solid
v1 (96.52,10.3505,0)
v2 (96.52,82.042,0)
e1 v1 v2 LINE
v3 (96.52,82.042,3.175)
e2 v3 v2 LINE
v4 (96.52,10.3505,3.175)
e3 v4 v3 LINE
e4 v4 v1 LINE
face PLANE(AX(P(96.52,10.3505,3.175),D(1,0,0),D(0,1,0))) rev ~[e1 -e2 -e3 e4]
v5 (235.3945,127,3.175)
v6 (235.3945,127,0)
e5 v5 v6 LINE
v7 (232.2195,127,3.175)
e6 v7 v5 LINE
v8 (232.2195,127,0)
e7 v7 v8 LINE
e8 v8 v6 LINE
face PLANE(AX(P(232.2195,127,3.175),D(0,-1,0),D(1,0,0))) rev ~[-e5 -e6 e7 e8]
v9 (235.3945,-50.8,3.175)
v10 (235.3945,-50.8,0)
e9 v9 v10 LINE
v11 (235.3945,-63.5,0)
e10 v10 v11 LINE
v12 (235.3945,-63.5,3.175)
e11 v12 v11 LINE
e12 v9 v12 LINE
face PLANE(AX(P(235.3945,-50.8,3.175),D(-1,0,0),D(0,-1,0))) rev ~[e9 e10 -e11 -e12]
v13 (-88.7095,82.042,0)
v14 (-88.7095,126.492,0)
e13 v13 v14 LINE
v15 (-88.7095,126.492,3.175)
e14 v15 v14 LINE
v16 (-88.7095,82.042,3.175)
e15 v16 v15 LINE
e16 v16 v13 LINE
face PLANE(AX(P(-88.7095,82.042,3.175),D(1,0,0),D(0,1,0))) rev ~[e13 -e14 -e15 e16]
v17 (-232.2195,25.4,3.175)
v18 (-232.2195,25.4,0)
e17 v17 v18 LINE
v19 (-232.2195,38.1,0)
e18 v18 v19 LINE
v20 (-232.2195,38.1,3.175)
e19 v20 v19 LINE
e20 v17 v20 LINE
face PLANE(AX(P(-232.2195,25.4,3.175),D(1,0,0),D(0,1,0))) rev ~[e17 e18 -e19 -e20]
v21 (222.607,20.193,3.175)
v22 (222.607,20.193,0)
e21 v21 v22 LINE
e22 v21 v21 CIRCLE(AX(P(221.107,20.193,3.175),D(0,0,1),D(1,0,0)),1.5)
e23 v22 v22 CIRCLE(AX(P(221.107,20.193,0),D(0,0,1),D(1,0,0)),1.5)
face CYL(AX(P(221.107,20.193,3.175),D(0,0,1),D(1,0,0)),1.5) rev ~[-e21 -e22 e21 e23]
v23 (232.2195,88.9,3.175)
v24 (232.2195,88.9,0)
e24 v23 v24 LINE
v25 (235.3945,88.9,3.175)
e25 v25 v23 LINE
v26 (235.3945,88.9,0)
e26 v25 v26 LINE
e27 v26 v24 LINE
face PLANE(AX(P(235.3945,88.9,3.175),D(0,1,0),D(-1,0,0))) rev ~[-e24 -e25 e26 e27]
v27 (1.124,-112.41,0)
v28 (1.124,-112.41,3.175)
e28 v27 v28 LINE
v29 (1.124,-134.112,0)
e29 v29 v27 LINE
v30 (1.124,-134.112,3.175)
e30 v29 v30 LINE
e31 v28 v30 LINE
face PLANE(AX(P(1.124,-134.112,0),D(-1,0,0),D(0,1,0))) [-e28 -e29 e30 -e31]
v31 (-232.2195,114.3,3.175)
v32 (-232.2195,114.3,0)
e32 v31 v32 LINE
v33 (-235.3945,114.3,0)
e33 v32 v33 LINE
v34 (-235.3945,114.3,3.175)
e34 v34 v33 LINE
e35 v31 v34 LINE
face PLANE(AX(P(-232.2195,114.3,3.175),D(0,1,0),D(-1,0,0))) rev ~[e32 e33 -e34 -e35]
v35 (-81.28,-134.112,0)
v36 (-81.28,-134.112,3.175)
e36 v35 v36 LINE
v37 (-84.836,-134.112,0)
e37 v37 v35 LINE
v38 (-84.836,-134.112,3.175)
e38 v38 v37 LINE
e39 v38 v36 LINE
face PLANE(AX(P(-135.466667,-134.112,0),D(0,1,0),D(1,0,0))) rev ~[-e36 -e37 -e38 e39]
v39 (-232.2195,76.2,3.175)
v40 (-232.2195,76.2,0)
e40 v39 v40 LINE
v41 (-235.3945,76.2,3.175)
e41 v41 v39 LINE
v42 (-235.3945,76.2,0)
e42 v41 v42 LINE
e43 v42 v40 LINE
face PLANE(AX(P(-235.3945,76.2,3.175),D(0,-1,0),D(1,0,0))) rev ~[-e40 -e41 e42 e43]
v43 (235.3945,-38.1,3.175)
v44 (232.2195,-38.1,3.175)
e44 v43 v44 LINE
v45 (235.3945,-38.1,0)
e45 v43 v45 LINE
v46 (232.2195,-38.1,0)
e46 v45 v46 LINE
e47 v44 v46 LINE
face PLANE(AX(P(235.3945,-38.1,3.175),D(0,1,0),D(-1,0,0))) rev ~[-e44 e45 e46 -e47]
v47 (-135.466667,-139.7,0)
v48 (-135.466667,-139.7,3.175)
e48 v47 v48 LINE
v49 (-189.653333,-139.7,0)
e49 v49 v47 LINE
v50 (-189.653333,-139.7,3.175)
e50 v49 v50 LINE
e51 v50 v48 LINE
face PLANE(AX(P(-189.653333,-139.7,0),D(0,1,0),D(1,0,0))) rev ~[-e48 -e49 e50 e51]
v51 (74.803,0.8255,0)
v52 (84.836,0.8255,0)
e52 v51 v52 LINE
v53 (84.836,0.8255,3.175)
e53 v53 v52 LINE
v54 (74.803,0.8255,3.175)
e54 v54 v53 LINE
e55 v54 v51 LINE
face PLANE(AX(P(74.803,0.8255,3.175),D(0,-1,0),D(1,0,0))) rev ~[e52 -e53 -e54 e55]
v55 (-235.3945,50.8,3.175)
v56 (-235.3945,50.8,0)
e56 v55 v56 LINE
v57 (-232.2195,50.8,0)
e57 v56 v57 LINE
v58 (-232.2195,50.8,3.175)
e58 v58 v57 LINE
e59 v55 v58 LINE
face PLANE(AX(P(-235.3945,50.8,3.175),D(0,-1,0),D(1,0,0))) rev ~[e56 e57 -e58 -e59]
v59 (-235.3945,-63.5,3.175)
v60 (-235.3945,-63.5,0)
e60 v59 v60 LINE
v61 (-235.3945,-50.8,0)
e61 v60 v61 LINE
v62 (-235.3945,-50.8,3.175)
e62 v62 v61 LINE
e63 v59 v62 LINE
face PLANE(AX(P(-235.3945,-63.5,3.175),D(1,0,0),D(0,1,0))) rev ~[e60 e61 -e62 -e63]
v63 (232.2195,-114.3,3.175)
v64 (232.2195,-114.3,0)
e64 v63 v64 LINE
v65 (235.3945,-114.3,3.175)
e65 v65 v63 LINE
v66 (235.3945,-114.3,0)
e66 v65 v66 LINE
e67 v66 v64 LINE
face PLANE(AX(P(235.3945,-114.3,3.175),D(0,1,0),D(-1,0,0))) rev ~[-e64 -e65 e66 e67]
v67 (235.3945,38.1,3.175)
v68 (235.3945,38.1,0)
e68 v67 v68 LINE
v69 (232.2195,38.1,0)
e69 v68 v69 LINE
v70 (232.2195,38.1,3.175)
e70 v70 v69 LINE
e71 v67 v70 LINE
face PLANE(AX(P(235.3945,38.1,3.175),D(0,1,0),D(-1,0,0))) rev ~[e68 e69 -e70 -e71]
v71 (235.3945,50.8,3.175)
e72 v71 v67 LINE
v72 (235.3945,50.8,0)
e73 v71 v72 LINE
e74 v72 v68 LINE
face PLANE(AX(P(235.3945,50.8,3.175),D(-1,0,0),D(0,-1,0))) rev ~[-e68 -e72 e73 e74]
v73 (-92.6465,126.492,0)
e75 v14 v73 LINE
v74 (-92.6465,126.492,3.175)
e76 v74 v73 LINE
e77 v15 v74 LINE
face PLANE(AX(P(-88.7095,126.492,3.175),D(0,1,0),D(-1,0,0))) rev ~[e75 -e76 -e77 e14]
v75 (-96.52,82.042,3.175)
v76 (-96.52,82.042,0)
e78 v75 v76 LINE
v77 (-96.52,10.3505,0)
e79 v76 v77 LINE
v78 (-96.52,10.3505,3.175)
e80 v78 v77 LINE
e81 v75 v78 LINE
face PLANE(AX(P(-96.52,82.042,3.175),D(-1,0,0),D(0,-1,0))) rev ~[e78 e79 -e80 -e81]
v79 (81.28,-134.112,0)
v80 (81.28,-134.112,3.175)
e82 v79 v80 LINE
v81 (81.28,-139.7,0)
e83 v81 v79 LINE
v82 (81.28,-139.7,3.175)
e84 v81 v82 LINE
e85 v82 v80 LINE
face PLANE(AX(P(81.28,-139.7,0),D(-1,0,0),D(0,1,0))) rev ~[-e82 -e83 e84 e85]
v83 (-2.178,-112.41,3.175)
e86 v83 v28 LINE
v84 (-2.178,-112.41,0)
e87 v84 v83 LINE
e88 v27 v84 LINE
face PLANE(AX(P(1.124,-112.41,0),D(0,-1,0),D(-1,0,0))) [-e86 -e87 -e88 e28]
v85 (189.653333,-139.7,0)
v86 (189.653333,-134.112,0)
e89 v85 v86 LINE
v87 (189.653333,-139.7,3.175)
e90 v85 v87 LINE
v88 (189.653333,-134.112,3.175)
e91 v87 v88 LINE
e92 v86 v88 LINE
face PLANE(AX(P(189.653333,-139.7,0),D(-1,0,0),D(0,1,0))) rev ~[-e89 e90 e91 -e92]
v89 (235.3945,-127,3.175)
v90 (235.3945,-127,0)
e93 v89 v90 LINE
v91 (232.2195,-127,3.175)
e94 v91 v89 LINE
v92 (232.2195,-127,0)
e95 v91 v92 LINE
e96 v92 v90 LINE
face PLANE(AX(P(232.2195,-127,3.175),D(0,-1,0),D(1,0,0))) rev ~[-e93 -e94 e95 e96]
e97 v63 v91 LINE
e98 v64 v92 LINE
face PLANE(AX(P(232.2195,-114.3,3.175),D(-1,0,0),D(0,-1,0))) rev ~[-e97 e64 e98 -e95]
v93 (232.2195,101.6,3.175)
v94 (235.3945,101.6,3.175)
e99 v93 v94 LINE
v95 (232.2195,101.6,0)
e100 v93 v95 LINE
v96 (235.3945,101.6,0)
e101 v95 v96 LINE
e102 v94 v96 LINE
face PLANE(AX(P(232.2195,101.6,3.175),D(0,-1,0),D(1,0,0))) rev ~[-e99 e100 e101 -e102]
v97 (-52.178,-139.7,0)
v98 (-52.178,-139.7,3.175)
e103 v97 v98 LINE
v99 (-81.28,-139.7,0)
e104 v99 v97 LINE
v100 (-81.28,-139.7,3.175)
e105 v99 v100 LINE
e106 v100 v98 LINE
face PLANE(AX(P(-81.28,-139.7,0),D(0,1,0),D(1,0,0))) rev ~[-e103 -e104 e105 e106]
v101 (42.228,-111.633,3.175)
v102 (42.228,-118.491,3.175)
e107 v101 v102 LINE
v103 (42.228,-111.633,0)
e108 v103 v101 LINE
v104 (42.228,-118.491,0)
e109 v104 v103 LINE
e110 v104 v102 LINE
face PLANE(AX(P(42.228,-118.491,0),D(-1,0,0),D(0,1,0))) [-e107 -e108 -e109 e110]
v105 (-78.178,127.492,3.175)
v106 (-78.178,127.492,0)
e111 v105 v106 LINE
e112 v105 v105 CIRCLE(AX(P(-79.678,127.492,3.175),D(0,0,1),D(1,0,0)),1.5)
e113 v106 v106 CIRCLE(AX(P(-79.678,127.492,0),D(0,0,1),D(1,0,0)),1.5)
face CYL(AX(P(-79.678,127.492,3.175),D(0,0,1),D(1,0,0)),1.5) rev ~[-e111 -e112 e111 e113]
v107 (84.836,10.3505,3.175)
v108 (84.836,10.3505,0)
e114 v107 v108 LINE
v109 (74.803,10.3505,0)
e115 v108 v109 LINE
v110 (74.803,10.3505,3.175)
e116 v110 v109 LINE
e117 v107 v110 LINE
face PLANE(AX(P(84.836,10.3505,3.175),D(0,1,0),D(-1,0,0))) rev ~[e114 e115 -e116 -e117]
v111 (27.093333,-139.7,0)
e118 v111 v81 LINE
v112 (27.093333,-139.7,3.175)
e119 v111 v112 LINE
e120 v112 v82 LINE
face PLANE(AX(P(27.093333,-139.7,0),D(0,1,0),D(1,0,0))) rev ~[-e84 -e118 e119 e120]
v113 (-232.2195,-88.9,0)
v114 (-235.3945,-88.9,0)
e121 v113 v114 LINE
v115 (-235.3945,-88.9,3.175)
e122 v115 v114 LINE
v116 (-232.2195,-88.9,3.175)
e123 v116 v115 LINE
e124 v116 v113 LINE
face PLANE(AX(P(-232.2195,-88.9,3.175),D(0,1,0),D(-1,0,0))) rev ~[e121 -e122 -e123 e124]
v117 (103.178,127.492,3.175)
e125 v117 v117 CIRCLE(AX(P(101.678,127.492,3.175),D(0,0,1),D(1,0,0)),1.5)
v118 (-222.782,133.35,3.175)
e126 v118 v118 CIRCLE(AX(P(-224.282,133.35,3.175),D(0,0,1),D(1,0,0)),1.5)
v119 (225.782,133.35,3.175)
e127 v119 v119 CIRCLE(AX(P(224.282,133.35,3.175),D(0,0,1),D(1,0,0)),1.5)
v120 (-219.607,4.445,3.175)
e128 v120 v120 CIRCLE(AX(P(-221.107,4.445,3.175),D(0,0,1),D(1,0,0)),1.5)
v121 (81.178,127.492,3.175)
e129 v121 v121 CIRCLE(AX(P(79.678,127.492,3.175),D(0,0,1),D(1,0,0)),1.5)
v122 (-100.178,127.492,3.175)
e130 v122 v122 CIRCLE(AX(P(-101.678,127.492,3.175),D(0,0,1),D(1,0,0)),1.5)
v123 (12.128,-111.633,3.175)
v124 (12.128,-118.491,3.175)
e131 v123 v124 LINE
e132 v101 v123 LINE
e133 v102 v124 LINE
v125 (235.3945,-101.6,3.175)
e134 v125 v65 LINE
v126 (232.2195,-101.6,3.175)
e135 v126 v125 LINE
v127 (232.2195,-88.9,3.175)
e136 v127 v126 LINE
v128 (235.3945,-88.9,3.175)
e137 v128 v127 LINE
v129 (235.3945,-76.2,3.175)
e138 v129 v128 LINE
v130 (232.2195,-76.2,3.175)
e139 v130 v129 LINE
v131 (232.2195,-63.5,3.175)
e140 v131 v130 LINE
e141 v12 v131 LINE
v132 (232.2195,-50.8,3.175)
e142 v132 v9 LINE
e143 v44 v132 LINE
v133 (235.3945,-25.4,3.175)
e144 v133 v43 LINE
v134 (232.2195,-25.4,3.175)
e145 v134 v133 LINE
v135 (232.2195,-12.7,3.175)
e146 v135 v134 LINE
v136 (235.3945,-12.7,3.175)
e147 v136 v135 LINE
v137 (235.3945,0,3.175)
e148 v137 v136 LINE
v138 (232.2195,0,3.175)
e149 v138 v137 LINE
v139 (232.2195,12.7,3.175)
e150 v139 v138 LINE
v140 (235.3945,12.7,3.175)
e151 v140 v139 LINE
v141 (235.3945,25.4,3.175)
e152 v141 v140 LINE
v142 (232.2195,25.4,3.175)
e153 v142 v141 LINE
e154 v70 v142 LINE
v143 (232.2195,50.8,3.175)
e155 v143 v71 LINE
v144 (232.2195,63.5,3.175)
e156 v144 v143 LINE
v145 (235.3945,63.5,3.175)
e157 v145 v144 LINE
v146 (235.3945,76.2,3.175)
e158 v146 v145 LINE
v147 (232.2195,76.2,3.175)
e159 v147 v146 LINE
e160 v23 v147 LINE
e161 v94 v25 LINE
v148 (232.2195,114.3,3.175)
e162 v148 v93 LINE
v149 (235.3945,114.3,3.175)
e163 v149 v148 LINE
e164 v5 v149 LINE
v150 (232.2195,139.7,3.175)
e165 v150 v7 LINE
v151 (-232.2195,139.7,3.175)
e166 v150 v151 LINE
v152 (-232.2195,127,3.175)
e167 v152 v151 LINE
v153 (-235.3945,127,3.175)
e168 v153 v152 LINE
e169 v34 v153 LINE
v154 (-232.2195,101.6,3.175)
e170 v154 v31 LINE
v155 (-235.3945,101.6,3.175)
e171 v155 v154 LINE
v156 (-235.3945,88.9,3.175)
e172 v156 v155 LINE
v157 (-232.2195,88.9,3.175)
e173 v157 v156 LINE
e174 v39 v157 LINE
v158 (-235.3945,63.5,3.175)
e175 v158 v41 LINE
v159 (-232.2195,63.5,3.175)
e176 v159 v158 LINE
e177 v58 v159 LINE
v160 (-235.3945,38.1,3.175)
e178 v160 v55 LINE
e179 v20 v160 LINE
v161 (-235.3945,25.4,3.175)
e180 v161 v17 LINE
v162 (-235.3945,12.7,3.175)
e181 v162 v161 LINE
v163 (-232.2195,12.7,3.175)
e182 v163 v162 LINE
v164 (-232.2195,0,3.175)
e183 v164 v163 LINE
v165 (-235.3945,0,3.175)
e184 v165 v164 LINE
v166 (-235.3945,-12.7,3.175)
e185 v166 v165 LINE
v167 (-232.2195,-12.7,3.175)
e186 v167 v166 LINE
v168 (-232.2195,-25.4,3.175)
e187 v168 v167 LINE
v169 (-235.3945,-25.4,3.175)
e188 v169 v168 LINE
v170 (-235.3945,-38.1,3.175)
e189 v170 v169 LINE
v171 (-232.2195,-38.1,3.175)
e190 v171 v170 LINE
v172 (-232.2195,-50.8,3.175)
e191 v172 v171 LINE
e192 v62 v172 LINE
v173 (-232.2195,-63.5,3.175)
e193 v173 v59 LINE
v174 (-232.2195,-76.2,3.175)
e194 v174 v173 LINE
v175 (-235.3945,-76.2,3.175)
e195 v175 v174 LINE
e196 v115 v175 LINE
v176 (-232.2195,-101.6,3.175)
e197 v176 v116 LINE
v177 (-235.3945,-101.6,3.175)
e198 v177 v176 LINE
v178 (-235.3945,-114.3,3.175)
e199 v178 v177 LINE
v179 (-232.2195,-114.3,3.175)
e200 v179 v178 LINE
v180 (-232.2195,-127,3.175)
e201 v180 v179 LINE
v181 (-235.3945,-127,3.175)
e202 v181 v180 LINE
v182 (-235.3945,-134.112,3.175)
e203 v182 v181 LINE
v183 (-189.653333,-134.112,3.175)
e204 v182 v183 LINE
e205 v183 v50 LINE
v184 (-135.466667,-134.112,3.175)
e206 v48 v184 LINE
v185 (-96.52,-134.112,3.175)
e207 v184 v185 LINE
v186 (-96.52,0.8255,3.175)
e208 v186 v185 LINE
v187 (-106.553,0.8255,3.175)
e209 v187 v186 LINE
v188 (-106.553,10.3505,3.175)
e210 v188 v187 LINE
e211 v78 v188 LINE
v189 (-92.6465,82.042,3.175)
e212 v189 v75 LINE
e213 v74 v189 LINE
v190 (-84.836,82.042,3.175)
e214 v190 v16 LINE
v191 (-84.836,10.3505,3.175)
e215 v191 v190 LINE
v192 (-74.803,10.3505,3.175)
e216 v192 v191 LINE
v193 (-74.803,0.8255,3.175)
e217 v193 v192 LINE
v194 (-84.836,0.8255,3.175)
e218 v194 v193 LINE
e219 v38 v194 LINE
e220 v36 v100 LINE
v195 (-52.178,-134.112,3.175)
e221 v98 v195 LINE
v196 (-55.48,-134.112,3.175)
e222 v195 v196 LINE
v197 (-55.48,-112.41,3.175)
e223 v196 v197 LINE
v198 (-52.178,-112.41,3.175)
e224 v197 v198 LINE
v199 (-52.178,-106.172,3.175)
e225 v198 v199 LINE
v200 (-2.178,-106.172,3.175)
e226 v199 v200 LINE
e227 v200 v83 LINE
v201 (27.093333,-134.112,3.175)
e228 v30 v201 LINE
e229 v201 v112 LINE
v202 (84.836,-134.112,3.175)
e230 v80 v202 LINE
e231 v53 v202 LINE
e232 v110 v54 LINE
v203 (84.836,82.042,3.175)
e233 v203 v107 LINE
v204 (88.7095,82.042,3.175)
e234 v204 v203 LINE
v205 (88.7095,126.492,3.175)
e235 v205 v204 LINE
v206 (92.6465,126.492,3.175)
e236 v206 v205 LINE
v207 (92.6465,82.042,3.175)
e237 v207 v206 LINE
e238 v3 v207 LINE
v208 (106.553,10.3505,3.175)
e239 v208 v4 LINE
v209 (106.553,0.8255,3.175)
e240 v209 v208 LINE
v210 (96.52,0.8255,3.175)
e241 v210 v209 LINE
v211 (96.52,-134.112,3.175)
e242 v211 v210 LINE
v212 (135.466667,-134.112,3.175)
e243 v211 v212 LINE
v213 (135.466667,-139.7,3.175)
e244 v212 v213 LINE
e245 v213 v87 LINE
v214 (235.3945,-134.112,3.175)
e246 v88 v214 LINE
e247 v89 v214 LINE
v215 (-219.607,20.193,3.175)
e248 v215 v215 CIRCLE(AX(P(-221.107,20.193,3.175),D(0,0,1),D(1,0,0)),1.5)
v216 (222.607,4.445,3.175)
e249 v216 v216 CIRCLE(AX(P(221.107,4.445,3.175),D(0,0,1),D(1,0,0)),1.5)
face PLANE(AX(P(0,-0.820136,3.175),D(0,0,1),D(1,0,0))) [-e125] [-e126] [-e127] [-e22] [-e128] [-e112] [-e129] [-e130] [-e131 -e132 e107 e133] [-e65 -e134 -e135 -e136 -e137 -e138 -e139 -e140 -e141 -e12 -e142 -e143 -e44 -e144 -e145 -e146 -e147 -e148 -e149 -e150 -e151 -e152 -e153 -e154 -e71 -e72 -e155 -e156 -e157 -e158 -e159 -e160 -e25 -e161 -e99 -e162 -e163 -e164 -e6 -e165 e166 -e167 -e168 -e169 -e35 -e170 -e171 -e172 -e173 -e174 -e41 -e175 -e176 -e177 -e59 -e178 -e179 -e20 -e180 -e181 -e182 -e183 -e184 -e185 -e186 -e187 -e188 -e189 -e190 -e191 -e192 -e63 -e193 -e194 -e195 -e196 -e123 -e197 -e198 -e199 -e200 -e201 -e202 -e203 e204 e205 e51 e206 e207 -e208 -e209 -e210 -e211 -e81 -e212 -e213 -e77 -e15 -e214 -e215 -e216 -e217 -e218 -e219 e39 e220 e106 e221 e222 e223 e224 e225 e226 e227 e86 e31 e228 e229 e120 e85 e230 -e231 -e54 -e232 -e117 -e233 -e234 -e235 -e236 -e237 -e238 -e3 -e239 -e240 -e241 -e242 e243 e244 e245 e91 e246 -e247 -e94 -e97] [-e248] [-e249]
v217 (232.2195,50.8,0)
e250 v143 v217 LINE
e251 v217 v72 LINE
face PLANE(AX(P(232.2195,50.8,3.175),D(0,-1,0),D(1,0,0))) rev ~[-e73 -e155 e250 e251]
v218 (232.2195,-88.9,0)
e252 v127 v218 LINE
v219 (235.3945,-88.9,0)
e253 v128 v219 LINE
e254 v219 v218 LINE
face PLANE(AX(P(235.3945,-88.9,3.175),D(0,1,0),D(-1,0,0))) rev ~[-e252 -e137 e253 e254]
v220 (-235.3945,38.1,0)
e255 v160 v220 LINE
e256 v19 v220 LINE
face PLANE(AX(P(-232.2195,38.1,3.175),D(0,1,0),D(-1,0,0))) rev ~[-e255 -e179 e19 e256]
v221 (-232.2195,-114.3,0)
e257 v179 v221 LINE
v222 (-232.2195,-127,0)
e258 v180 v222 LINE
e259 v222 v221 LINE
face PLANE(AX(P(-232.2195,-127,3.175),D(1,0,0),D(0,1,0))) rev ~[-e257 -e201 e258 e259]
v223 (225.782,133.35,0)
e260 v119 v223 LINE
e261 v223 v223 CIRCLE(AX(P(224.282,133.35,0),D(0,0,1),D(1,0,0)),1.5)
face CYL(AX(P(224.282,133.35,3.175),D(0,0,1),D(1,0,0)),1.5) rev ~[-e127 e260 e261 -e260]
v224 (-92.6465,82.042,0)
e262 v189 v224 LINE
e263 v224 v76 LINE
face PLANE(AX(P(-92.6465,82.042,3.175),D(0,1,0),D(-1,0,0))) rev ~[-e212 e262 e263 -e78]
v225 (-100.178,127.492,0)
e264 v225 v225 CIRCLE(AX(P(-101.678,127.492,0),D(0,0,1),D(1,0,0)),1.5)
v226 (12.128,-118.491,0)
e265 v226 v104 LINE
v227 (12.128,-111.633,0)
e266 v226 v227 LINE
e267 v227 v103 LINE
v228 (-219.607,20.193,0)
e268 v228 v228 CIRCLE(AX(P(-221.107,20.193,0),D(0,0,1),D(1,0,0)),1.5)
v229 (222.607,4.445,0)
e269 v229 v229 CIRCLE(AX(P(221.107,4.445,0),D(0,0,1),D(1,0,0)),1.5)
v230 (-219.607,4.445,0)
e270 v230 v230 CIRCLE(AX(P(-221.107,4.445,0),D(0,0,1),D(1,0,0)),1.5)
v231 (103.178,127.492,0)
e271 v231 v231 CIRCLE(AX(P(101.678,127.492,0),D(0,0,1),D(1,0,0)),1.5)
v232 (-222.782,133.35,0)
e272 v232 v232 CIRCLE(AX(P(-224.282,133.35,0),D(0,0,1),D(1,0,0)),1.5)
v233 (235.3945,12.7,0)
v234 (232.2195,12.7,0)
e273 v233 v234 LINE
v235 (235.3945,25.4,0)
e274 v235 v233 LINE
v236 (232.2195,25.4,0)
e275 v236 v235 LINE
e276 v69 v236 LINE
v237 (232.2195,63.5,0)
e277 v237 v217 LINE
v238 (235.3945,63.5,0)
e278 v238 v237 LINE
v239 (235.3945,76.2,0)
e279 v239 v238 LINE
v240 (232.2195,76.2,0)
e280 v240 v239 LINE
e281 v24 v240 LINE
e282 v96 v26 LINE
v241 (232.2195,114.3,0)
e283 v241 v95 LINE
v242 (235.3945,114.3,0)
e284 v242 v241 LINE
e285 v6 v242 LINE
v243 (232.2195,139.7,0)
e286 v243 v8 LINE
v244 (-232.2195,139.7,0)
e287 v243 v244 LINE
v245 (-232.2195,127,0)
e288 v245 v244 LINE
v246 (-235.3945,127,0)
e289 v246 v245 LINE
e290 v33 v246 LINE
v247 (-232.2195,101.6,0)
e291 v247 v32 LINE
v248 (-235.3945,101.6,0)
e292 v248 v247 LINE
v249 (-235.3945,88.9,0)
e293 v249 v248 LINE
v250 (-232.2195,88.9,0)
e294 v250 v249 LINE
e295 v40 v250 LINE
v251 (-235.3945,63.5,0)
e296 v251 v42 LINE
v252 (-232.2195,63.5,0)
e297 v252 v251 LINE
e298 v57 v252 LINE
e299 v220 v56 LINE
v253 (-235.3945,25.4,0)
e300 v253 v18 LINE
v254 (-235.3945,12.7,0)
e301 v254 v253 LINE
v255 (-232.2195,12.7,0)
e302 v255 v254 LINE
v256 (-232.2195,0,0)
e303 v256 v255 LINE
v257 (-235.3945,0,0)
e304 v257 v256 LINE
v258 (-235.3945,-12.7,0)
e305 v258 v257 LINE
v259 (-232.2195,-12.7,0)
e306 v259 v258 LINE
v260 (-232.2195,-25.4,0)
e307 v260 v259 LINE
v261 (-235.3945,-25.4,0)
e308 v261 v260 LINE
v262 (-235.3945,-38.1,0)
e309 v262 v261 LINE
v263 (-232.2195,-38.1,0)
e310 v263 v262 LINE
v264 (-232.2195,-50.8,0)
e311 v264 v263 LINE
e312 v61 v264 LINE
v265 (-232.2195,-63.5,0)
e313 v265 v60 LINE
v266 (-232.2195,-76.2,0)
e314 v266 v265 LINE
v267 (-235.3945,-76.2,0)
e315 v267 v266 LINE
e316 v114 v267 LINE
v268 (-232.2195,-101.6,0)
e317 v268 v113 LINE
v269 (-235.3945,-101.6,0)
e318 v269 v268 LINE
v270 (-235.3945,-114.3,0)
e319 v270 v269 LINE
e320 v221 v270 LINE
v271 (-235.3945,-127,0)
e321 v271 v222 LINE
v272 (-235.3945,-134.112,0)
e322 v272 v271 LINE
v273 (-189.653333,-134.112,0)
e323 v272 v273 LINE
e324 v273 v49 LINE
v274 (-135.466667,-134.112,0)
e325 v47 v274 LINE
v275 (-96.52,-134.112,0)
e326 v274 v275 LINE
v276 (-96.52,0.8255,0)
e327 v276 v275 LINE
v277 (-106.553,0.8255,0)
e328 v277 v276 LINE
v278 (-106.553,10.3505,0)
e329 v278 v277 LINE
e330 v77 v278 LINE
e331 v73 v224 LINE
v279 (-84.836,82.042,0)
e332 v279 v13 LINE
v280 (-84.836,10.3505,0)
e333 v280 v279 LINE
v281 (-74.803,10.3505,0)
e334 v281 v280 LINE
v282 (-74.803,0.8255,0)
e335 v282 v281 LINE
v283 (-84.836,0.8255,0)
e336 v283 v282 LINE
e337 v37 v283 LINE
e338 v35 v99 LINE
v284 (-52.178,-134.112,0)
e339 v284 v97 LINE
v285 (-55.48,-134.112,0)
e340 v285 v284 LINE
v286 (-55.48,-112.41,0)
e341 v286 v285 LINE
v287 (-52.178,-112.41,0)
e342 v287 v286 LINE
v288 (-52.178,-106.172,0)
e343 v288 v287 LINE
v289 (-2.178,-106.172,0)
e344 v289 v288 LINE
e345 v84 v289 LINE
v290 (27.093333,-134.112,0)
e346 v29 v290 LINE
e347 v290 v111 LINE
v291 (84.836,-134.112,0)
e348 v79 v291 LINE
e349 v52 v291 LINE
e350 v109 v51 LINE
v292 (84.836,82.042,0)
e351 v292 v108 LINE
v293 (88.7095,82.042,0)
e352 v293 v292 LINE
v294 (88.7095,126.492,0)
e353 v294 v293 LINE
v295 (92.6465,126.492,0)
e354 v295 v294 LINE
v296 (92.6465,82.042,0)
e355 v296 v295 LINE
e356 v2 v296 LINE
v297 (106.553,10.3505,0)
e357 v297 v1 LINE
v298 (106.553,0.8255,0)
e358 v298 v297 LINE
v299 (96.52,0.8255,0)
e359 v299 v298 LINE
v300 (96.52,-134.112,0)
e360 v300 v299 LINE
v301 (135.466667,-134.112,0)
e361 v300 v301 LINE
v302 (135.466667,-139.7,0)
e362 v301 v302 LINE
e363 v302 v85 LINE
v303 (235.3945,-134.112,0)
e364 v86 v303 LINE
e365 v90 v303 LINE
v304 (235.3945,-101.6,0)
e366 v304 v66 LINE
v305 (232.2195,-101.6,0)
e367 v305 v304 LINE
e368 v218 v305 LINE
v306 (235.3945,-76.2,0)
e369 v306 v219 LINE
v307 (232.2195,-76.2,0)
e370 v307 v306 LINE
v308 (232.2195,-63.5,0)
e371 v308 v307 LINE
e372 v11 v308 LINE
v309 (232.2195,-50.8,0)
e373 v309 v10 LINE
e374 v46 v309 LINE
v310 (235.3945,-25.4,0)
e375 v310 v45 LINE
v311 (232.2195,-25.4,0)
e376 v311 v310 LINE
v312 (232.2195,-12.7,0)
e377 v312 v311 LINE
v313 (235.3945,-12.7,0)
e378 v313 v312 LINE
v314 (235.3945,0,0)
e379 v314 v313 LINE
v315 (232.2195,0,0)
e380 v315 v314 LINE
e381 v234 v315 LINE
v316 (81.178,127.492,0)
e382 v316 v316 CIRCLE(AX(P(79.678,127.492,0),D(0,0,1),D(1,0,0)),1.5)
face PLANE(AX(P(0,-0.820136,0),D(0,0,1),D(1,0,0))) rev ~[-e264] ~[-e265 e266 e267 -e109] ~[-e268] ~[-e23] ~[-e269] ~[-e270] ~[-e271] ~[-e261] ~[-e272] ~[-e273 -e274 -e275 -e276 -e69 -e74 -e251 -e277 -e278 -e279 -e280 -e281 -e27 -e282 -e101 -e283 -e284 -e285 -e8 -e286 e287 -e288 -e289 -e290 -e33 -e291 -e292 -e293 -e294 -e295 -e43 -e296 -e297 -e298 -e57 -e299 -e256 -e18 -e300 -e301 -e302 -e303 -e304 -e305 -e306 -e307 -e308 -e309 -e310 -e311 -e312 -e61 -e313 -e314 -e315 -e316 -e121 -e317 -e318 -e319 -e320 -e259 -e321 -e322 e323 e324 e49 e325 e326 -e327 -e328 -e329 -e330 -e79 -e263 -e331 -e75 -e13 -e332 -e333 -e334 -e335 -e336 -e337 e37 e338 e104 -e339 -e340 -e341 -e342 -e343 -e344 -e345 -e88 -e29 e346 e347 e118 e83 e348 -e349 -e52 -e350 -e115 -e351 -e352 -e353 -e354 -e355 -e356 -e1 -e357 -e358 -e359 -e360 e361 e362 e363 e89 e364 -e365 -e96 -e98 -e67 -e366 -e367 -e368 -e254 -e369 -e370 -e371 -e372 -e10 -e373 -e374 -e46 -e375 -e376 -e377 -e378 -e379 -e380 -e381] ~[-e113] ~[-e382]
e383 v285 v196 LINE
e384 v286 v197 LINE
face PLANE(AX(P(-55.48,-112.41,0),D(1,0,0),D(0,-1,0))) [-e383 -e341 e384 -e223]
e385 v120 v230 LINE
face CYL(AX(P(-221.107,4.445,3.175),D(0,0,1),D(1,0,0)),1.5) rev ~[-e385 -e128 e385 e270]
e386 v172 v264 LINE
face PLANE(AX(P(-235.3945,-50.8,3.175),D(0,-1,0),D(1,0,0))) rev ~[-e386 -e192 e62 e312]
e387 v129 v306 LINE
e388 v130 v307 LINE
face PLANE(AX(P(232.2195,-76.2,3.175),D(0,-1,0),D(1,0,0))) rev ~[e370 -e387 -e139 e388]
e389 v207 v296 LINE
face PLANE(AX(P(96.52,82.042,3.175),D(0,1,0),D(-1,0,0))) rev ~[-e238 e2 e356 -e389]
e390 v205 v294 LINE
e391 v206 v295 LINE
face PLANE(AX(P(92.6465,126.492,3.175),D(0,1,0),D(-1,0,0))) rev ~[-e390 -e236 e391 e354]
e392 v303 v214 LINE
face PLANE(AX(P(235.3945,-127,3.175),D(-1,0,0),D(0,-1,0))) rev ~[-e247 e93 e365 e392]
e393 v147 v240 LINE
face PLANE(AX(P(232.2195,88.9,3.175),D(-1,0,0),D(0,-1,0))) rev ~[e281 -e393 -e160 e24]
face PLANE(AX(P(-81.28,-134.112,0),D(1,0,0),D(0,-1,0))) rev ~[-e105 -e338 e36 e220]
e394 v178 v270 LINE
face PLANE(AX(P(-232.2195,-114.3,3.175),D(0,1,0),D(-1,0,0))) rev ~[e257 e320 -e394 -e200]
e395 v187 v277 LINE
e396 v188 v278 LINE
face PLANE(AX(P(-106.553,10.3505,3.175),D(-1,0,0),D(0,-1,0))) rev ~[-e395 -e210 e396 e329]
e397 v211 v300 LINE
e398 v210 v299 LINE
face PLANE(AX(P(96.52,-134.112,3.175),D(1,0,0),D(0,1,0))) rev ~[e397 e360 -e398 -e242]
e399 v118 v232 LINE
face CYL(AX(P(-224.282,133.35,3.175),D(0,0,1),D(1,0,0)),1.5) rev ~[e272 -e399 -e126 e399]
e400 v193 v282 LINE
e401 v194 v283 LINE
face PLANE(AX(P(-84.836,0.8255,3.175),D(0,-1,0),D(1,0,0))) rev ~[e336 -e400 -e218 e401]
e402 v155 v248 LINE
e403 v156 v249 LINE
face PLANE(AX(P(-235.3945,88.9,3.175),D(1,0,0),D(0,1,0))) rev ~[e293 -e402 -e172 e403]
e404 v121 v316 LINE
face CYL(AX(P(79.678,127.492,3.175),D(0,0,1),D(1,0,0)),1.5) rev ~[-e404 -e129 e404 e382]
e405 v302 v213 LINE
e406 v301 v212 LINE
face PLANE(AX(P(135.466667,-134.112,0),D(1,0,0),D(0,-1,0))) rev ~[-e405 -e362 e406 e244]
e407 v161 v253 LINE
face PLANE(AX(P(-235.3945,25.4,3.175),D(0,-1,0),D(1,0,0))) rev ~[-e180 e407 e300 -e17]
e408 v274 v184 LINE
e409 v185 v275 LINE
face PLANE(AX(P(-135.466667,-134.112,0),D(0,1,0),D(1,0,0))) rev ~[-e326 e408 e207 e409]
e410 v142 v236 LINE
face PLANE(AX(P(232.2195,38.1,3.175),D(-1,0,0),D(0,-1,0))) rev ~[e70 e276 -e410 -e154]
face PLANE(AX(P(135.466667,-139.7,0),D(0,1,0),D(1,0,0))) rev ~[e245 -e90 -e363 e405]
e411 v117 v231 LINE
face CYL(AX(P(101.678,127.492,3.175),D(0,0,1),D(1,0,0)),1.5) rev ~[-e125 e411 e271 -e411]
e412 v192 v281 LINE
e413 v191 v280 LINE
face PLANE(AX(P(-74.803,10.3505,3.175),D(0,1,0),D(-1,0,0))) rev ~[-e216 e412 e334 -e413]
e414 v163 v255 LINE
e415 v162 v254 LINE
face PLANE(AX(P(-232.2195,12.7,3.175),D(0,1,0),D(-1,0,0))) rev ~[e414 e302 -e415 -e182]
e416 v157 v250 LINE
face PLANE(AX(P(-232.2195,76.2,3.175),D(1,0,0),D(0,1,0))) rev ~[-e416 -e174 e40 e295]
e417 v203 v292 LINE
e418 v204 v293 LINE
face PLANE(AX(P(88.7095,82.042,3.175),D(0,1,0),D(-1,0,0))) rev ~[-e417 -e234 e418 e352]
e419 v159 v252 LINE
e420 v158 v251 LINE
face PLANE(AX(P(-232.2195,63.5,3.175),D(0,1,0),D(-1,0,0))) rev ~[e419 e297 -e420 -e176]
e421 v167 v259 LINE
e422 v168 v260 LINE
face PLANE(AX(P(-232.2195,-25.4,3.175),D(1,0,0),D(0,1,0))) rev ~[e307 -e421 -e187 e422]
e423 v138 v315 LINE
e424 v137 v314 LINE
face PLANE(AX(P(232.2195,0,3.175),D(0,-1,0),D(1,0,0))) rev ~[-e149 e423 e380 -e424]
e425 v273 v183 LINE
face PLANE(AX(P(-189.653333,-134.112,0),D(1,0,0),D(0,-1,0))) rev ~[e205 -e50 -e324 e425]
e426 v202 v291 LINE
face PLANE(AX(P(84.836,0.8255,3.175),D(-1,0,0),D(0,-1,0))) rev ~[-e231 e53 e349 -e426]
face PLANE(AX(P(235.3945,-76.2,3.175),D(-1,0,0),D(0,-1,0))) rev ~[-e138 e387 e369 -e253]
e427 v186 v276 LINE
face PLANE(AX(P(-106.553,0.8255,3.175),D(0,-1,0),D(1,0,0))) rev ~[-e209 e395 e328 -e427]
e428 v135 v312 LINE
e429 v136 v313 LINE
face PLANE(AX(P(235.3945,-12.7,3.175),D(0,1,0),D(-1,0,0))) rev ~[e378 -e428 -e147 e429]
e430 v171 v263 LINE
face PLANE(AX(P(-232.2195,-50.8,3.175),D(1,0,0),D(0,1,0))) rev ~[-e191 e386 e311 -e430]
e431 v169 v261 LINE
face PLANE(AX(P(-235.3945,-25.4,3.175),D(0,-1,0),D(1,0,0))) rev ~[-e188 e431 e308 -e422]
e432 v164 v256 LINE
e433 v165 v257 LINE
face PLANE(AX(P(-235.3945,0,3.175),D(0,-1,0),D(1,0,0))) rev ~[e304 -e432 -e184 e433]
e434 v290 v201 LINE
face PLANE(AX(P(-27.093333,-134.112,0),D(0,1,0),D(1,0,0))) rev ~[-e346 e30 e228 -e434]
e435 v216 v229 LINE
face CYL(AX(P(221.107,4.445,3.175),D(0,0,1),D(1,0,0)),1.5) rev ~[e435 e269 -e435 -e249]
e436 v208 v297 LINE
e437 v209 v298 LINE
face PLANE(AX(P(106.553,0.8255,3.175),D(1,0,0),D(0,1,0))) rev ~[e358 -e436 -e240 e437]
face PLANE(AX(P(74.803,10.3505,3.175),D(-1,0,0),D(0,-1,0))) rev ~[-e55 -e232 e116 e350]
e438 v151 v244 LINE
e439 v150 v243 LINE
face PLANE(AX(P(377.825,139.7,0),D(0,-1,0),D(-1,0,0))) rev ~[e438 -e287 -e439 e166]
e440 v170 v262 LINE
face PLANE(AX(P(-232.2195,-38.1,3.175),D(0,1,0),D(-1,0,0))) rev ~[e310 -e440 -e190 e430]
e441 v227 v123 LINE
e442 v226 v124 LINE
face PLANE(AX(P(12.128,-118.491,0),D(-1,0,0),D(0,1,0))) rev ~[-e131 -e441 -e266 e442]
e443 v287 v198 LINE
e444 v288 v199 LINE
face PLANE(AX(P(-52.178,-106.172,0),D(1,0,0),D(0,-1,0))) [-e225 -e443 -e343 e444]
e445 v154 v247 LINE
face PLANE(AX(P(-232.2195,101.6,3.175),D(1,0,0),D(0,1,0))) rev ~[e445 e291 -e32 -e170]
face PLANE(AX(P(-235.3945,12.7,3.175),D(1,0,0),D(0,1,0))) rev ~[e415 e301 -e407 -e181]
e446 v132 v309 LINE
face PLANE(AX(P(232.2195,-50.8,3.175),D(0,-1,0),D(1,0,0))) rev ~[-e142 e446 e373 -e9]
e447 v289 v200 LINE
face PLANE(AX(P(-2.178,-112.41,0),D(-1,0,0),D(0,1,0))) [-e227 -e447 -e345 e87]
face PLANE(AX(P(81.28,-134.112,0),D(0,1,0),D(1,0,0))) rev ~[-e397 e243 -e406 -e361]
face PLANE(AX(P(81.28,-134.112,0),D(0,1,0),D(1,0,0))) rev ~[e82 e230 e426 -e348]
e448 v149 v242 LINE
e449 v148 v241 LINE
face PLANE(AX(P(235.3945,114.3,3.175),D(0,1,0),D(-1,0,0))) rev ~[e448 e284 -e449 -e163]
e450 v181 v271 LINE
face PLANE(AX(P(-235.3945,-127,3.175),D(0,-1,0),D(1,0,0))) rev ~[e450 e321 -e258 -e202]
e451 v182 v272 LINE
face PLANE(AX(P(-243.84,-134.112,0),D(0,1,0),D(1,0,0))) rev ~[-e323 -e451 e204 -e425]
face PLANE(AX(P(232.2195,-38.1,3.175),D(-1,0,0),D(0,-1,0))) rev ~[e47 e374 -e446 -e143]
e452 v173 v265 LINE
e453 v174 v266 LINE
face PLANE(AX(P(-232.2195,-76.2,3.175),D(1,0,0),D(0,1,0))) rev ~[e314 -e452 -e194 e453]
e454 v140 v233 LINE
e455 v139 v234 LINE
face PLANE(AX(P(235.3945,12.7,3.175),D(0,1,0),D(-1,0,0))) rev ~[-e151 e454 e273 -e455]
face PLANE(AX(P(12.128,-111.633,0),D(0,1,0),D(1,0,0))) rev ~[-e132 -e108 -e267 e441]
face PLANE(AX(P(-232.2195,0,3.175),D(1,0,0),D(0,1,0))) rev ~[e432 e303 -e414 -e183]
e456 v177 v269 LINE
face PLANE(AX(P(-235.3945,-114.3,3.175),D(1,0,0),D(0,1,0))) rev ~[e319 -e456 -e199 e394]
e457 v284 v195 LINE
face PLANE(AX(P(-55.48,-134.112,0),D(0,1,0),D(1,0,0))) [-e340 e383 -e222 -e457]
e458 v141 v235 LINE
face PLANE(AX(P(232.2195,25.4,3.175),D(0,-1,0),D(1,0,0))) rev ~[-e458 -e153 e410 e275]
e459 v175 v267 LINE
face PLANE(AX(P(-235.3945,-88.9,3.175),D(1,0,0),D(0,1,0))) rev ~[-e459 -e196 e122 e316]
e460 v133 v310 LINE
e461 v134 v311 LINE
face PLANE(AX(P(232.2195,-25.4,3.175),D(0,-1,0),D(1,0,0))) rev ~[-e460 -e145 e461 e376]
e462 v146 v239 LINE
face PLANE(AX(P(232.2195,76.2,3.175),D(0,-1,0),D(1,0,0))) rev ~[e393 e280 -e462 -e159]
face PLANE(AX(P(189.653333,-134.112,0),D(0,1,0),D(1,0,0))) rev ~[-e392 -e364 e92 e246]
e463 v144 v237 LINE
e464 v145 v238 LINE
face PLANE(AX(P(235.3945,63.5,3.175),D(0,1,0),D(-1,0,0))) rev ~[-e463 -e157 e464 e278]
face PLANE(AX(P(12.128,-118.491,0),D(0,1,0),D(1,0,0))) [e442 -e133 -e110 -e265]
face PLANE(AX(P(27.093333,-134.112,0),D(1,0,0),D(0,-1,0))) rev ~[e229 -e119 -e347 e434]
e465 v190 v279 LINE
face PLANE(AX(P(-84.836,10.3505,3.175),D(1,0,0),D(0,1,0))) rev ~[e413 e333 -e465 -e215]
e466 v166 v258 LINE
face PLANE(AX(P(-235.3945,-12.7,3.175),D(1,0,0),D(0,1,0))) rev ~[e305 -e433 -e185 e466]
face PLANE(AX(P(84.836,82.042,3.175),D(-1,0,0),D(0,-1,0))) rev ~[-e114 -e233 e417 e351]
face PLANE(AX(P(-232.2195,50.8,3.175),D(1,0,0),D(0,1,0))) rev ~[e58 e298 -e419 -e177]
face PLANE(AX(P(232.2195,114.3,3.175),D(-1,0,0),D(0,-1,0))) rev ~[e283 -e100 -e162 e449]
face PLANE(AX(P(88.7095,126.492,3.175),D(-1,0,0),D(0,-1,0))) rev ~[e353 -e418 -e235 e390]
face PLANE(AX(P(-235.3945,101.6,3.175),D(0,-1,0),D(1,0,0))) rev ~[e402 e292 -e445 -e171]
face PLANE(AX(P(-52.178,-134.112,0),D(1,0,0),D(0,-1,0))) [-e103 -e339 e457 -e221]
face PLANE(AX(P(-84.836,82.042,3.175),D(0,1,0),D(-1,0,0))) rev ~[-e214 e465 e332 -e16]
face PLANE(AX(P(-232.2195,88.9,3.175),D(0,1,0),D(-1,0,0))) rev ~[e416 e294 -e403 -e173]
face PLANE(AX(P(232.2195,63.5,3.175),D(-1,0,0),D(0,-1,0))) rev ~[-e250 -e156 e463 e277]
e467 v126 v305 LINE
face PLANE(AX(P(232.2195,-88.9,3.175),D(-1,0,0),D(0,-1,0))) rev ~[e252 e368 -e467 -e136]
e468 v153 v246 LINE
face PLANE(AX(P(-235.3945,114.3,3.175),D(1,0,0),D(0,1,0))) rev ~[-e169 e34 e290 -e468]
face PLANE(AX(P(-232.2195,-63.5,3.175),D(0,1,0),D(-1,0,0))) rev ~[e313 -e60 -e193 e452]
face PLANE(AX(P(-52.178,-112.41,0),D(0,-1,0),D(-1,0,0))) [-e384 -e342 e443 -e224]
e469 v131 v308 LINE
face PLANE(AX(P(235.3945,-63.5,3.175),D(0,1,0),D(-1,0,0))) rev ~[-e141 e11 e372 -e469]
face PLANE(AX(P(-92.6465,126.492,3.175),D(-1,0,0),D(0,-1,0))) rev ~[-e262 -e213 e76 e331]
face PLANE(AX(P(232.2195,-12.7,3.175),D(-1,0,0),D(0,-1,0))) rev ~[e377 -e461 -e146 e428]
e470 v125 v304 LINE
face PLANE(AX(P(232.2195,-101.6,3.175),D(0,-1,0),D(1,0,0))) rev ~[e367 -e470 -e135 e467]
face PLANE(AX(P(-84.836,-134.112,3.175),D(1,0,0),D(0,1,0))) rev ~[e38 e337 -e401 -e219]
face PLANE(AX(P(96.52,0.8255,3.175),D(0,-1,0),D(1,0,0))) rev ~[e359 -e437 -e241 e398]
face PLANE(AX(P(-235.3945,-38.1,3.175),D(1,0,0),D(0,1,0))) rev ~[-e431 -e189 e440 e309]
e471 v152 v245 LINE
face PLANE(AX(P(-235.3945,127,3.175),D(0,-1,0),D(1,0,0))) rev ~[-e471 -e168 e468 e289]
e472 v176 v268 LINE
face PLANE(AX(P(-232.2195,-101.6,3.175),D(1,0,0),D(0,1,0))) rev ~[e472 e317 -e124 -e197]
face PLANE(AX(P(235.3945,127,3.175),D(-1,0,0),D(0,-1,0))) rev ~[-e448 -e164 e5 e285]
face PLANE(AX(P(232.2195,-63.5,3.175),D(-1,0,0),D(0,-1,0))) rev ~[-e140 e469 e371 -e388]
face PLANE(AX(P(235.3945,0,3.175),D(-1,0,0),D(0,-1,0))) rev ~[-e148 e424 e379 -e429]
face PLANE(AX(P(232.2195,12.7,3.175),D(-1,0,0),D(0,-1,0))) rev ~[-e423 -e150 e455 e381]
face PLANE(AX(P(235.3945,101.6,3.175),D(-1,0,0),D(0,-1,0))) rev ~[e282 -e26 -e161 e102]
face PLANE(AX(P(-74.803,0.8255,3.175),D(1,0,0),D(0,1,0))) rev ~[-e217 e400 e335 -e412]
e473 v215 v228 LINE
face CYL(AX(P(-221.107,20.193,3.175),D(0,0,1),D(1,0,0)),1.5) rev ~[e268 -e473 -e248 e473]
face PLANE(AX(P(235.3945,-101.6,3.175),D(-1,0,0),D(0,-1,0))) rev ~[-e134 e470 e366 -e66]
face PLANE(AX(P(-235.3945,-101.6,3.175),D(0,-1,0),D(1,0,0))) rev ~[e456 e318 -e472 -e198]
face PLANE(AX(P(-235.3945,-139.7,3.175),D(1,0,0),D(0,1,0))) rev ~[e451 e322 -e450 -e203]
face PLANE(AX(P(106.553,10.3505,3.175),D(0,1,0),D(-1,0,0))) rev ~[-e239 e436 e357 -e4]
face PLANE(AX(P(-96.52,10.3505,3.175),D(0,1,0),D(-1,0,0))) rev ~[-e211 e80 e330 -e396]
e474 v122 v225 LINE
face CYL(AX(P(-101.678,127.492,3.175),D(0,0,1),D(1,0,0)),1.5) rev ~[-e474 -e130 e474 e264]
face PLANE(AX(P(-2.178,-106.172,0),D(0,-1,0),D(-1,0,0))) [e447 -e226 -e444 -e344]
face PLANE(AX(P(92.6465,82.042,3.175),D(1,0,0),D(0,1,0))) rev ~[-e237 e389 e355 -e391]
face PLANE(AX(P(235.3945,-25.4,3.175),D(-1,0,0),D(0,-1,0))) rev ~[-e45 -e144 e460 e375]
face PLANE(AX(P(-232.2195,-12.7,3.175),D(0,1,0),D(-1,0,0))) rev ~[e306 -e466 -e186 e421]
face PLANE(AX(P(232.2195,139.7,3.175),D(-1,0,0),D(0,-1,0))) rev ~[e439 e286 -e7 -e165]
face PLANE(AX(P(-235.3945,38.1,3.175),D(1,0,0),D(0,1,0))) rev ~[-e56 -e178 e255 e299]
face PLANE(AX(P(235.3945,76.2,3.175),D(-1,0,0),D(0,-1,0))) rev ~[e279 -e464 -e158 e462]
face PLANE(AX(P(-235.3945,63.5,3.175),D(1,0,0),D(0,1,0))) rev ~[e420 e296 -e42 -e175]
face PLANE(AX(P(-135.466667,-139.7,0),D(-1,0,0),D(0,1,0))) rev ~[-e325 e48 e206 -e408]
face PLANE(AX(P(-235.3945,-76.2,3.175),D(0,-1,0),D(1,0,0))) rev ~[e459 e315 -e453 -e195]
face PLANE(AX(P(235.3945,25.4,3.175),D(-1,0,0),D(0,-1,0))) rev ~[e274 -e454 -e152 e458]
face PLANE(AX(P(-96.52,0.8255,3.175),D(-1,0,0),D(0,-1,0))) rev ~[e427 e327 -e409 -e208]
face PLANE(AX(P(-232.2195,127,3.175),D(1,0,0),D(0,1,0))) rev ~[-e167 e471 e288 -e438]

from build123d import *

# Parameters (mm, degrees)
SKETCH1_W                    = 3.175
SKETCH1_H                    = 12.7
MAIN_EXTRUDE_DEPTH           = 3.175
SKETCH8_R                    = 1.5
SKETCH8_W                    = 3.175
SKETCH8_H                    = 31.877
MOUNT_HOLES_DEPTH            = 430.752406189
DOOR_SLOTS_DEPTH             = 430.752406189
SKETCH4_W                    = 30.099999998
SKETCH4_H                    = 6.858
TROUGH_AND_LEVER_HOLES_DEPTH = 430.752406189
SKETCH10_R                   = 1.5
DOOR_GUIDE_MOUNT_HOLES_DEPTH = 430.752406189
SKETCH12_R                   = 1.5
EXTENSION_CLIP_HOLES_DEPTH   = 430.752406189
EXTENSION_CENTER_CUT_DEPTH   = 430.752406189


with BuildPart() as part:
    # Sketch1 → Main Extrude (new body)
    with BuildSketch(Plane.XY):
        Polygon((-381, 139.7), (-406.4, 139.7), (-406.4, -139.7), (-352.213333333, -139.7), (-352.213333333, -134.112), (-298.026666667, -134.112), (-298.026666667, -139.7), (-243.84, -139.7), (-243.84, -134.112), (-189.653333333, -134.112), (-189.653333333, -139.7), (-135.466666667, -139.7), (-135.466666667, -134.112), (-81.28, -134.112), (-81.28, -139.7), (-27.093333333, -139.7), (-27.093333333, -134.112), (27.093333333, -134.112), (27.093333333, -139.7), (81.28, -139.7), (81.28, -134.112), (135.466666667, -134.112), (135.466666667, -139.7), (189.653333333, -139.7), (189.653333333, -134.112), (243.84, -134.112), (243.84, -139.7), (298.026666667, -139.7), (298.026666667, -134.112), (352.213333333, -134.112), (352.213333333, -139.7), (406.4, -139.7), (406.4, 139.7), (381, 139.7), (381, 127), (377.825, 127), (377.825, 139.7), (-377.825, 139.7), (-377.825, 127), (-381, 127), align=None)
        with Locations((-379.4125, 107.95)):
            Rectangle(SKETCH1_W, SKETCH1_H, mode=Mode.SUBTRACT)
        with Locations((-379.4125, 82.55)):
            Rectangle(SKETCH1_W, SKETCH1_H, mode=Mode.SUBTRACT)
        with Locations((-379.4125, 57.15)):
            Rectangle(SKETCH1_W, SKETCH1_H, mode=Mode.SUBTRACT)
        with Locations((-379.4125, 31.75)):
            Rectangle(SKETCH1_W, SKETCH1_H, mode=Mode.SUBTRACT)
        with Locations((-379.4125, 6.35)):
            Rectangle(SKETCH1_W, SKETCH1_H, mode=Mode.SUBTRACT)
        with Locations((-379.4125, -19.05)):
            Rectangle(SKETCH1_W, SKETCH1_H, mode=Mode.SUBTRACT)
        with Locations((-379.4125, -44.45)):
            Rectangle(SKETCH1_W, SKETCH1_H, mode=Mode.SUBTRACT)
        with Locations((-379.4125, -69.85)):
            Rectangle(SKETCH1_W, SKETCH1_H, mode=Mode.SUBTRACT)
        with Locations((-379.4125, -95.25)):
            Rectangle(SKETCH1_W, SKETCH1_H, mode=Mode.SUBTRACT)
        with Locations((-379.4125, -120.65)):
            Rectangle(SKETCH1_W, SKETCH1_H, mode=Mode.SUBTRACT)
        with Locations((379.4125, 107.95)):
            Rectangle(SKETCH1_W, SKETCH1_H, mode=Mode.SUBTRACT)
        with Locations((379.4125, 82.55)):
            Rectangle(SKETCH1_W, SKETCH1_H, mode=Mode.SUBTRACT)
        with Locations((379.4125, 57.15)):
            Rectangle(SKETCH1_W, SKETCH1_H, mode=Mode.SUBTRACT)
        with Locations((379.4125, 31.75)):
            Rectangle(SKETCH1_W, SKETCH1_H, mode=Mode.SUBTRACT)
        with Locations((379.4125, 6.35)):
            Rectangle(SKETCH1_W, SKETCH1_H, mode=Mode.SUBTRACT)
        with Locations((379.4125, -19.05)):
            Rectangle(SKETCH1_W, SKETCH1_H, mode=Mode.SUBTRACT)
        with Locations((379.4125, -44.45)):
            Rectangle(SKETCH1_W, SKETCH1_H, mode=Mode.SUBTRACT)
        with Locations((379.4125, -69.85)):
            Rectangle(SKETCH1_W, SKETCH1_H, mode=Mode.SUBTRACT)
        with Locations((379.4125, -95.25)):
            Rectangle(SKETCH1_W, SKETCH1_H, mode=Mode.SUBTRACT)
        with Locations((379.4125, -120.65)):
            Rectangle(SKETCH1_W, SKETCH1_H, mode=Mode.SUBTRACT)
    extrude(amount=MAIN_EXTRUDE_DEPTH)

    # Sketch8 → Mount Holes (cut, through all)
    with BuildSketch(Plane.XY.offset(3.175)):
        with Locations((-393.7, -120.65)):
            Circle(SKETCH8_R)
        with Locations((393.7, -120.65)):
            Circle(SKETCH8_R)
        with Locations((-382.5875, 12.319)):
            Rectangle(SKETCH8_W, SKETCH8_H)
        with Locations((382.5875, 12.319)):
            Rectangle(SKETCH8_W, SKETCH8_H)
    extrude(amount=-MOUNT_HOLES_DEPTH, mode=Mode.SUBTRACT)

    # Sketch3 → Door Slots (cut, through all)
    with BuildSketch(Plane.XY.offset(3.175)):
        Polygon((-88.7095, 126.492), (-92.6465, 126.492), (-92.6465, 82.042), (-96.52, 82.042), (-96.52, 10.3505), (-106.553, 10.3505), (-106.553, 0.8255), (-96.52, 0.8255), (-96.52, -134.112), (-84.836, -134.112), (-84.836, 0.8255), (-74.803, 0.8255), (-74.803, 10.3505), (-84.836, 10.3505), (-84.836, 82.042), (-88.7095, 82.042), align=None)
        Polygon((92.6465, 126.492), (88.7095, 126.492), (88.7095, 82.042), (84.836, 82.042), (84.836, 10.3505), (74.803, 10.3505), (74.803, 0.8255), (84.836, 0.8255), (84.836, -134.112), (96.52, -134.112), (96.52, 0.8255), (106.553, 0.8255), (106.553, 10.3505), (96.52, 10.3505), (96.52, 82.042), (92.6465, 82.042), align=None)
    extrude(amount=-DOOR_SLOTS_DEPTH, mode=Mode.SUBTRACT)

    # Sketch4 → Trough and Lever Holes (cut, through all)
    with BuildSketch(Plane.XY):
        Polygon((-52.178, -112.41), (-55.48, -112.41), (-55.48, -134.112), (-52.178, -134.112), (-52.178, -139.7), (-2.178, -139.7), (-2.178, -134.112), (1.124, -134.112), (1.124, -112.41), (-2.178, -112.41), (-2.178, -106.172), (-52.178, -106.172), align=None)
        with Locations((27.178, -115.062)):
            Rectangle(SKETCH4_W, SKETCH4_H)
    extrude(amount=TROUGH_AND_LEVER_HOLES_DEPTH, mode=Mode.SUBTRACT)

    # Sketch10 → Door Guide Mount Holes (cut, through all)
    with BuildSketch(Plane.XY.offset(3.175)):
        with Locations((-101.678, 127.492)):
            Circle(SKETCH10_R)
        with Locations((-79.678, 127.492)):
            Circle(SKETCH10_R)
        with Locations((79.678, 127.492)):
            Circle(SKETCH10_R)
        with Locations((101.678, 127.492)):
            Circle(SKETCH10_R)
    extrude(amount=-DOOR_GUIDE_MOUNT_HOLES_DEPTH, mode=Mode.SUBTRACT)

    # Sketch12 → Extension Clip Holes (cut, through all)
    with BuildSketch(Plane.XY.offset(3.175)):
        with Locations((-246.507, 20.193)):
            Circle(SKETCH12_R)
        with Locations((-246.507, 4.445)):
            Circle(SKETCH12_R)
        with Locations((-221.107, 4.445)):
            Circle(SKETCH12_R)
        with Locations((-221.107, 20.193)):
            Circle(SKETCH12_R)
        with Locations((-243.332, 133.35)):
            Circle(SKETCH12_R)
        with Locations((-224.282, 133.35)):
            Circle(SKETCH12_R)
        with Locations((224.282, 133.35)):
            Circle(SKETCH12_R)
        with Locations((243.332, 133.35)):
            Circle(SKETCH12_R)
        with Locations((221.107, 20.193)):
            Circle(SKETCH12_R)
        with Locations((221.107, 4.445)):
            Circle(SKETCH12_R)
        with Locations((246.507, 4.445)):
            Circle(SKETCH12_R)
        with Locations((246.507, 20.193)):
            Circle(SKETCH12_R)
    extrude(amount=-EXTENSION_CLIP_HOLES_DEPTH, mode=Mode.SUBTRACT)

    # Sketch11<3> → Extension Center Cut (cut, through all)
    with BuildSketch(Plane.XY.offset(3.175)):
        Polygon((-232.2195, 127), (-232.2195, 139.7), (-406.4, 139.7), (-406.4, -139.7), (-235.3945, -139.7), (-235.3945, -127), (-232.2195, -127), (-232.2195, -114.3), (-235.3945, -114.3), (-235.3945, -101.6), (-232.2195, -101.6), (-232.2195, -88.9), (-235.3945, -88.9), (-235.3945, -76.2), (-232.2195, -76.2), (-232.2195, -63.5), (-235.3945, -63.5), (-235.3945, -50.8), (-232.2195, -50.8), (-232.2195, -38.1), (-235.3945, -38.1), (-235.3945, -25.4), (-232.2195, -25.4), (-232.2195, -12.7), (-235.3945, -12.7), (-235.3945, 0), (-232.2195, 0), (-232.2195, 12.7), (-235.3945, 12.7), (-235.3945, 25.4), (-232.2195, 25.4), (-232.2195, 38.1), (-235.3945, 38.1), (-235.3945, 50.8), (-232.2195, 50.8), (-232.2195, 63.5), (-235.3945, 63.5), (-235.3945, 76.2), (-232.2195, 76.2), (-232.2195, 88.9), (-235.3945, 88.9), (-235.3945, 101.6), (-232.2195, 101.6), (-232.2195, 114.3), (-235.3945, 114.3), (-235.3945, 127), align=None)
        Polygon((406.4, 139.7), (232.2195, 139.7), (232.2195, 127), (235.3945, 127), (235.3945, 114.3), (232.2195, 114.3), (232.2195, 101.6), (235.3945, 101.6), (235.3945, 88.9), (232.2195, 88.9), (232.2195, 76.2), (235.3945, 76.2), (235.3945, 63.5), (232.2195, 63.5), (232.2195, 50.8), (235.3945, 50.8), (235.3945, 38.1), (232.2195, 38.1), (232.2195, 25.4), (235.3945, 25.4), (235.3945, 12.7), (232.2195, 12.7), (232.2195, 0), (235.3945, 0), (235.3945, -12.7), (232.2195, -12.7), (232.2195, -25.4), (235.3945, -25.4), (235.3945, -38.1), (232.2195, -38.1), (232.2195, -50.8), (235.3945, -50.8), (235.3945, -63.5), (232.2195, -63.5), (232.2195, -76.2), (235.3945, -76.2), (235.3945, -88.9), (232.2195, -88.9), (232.2195, -101.6), (235.3945, -101.6), (235.3945, -114.3), (232.2195, -114.3), (232.2195, -127), (235.3945, -127), (235.3945, -139.7), (406.4, -139.7), align=None)
    extrude(amount=-EXTENSION_CENTER_CUT_DEPTH, mode=Mode.SUBTRACT)


solid = part.part
